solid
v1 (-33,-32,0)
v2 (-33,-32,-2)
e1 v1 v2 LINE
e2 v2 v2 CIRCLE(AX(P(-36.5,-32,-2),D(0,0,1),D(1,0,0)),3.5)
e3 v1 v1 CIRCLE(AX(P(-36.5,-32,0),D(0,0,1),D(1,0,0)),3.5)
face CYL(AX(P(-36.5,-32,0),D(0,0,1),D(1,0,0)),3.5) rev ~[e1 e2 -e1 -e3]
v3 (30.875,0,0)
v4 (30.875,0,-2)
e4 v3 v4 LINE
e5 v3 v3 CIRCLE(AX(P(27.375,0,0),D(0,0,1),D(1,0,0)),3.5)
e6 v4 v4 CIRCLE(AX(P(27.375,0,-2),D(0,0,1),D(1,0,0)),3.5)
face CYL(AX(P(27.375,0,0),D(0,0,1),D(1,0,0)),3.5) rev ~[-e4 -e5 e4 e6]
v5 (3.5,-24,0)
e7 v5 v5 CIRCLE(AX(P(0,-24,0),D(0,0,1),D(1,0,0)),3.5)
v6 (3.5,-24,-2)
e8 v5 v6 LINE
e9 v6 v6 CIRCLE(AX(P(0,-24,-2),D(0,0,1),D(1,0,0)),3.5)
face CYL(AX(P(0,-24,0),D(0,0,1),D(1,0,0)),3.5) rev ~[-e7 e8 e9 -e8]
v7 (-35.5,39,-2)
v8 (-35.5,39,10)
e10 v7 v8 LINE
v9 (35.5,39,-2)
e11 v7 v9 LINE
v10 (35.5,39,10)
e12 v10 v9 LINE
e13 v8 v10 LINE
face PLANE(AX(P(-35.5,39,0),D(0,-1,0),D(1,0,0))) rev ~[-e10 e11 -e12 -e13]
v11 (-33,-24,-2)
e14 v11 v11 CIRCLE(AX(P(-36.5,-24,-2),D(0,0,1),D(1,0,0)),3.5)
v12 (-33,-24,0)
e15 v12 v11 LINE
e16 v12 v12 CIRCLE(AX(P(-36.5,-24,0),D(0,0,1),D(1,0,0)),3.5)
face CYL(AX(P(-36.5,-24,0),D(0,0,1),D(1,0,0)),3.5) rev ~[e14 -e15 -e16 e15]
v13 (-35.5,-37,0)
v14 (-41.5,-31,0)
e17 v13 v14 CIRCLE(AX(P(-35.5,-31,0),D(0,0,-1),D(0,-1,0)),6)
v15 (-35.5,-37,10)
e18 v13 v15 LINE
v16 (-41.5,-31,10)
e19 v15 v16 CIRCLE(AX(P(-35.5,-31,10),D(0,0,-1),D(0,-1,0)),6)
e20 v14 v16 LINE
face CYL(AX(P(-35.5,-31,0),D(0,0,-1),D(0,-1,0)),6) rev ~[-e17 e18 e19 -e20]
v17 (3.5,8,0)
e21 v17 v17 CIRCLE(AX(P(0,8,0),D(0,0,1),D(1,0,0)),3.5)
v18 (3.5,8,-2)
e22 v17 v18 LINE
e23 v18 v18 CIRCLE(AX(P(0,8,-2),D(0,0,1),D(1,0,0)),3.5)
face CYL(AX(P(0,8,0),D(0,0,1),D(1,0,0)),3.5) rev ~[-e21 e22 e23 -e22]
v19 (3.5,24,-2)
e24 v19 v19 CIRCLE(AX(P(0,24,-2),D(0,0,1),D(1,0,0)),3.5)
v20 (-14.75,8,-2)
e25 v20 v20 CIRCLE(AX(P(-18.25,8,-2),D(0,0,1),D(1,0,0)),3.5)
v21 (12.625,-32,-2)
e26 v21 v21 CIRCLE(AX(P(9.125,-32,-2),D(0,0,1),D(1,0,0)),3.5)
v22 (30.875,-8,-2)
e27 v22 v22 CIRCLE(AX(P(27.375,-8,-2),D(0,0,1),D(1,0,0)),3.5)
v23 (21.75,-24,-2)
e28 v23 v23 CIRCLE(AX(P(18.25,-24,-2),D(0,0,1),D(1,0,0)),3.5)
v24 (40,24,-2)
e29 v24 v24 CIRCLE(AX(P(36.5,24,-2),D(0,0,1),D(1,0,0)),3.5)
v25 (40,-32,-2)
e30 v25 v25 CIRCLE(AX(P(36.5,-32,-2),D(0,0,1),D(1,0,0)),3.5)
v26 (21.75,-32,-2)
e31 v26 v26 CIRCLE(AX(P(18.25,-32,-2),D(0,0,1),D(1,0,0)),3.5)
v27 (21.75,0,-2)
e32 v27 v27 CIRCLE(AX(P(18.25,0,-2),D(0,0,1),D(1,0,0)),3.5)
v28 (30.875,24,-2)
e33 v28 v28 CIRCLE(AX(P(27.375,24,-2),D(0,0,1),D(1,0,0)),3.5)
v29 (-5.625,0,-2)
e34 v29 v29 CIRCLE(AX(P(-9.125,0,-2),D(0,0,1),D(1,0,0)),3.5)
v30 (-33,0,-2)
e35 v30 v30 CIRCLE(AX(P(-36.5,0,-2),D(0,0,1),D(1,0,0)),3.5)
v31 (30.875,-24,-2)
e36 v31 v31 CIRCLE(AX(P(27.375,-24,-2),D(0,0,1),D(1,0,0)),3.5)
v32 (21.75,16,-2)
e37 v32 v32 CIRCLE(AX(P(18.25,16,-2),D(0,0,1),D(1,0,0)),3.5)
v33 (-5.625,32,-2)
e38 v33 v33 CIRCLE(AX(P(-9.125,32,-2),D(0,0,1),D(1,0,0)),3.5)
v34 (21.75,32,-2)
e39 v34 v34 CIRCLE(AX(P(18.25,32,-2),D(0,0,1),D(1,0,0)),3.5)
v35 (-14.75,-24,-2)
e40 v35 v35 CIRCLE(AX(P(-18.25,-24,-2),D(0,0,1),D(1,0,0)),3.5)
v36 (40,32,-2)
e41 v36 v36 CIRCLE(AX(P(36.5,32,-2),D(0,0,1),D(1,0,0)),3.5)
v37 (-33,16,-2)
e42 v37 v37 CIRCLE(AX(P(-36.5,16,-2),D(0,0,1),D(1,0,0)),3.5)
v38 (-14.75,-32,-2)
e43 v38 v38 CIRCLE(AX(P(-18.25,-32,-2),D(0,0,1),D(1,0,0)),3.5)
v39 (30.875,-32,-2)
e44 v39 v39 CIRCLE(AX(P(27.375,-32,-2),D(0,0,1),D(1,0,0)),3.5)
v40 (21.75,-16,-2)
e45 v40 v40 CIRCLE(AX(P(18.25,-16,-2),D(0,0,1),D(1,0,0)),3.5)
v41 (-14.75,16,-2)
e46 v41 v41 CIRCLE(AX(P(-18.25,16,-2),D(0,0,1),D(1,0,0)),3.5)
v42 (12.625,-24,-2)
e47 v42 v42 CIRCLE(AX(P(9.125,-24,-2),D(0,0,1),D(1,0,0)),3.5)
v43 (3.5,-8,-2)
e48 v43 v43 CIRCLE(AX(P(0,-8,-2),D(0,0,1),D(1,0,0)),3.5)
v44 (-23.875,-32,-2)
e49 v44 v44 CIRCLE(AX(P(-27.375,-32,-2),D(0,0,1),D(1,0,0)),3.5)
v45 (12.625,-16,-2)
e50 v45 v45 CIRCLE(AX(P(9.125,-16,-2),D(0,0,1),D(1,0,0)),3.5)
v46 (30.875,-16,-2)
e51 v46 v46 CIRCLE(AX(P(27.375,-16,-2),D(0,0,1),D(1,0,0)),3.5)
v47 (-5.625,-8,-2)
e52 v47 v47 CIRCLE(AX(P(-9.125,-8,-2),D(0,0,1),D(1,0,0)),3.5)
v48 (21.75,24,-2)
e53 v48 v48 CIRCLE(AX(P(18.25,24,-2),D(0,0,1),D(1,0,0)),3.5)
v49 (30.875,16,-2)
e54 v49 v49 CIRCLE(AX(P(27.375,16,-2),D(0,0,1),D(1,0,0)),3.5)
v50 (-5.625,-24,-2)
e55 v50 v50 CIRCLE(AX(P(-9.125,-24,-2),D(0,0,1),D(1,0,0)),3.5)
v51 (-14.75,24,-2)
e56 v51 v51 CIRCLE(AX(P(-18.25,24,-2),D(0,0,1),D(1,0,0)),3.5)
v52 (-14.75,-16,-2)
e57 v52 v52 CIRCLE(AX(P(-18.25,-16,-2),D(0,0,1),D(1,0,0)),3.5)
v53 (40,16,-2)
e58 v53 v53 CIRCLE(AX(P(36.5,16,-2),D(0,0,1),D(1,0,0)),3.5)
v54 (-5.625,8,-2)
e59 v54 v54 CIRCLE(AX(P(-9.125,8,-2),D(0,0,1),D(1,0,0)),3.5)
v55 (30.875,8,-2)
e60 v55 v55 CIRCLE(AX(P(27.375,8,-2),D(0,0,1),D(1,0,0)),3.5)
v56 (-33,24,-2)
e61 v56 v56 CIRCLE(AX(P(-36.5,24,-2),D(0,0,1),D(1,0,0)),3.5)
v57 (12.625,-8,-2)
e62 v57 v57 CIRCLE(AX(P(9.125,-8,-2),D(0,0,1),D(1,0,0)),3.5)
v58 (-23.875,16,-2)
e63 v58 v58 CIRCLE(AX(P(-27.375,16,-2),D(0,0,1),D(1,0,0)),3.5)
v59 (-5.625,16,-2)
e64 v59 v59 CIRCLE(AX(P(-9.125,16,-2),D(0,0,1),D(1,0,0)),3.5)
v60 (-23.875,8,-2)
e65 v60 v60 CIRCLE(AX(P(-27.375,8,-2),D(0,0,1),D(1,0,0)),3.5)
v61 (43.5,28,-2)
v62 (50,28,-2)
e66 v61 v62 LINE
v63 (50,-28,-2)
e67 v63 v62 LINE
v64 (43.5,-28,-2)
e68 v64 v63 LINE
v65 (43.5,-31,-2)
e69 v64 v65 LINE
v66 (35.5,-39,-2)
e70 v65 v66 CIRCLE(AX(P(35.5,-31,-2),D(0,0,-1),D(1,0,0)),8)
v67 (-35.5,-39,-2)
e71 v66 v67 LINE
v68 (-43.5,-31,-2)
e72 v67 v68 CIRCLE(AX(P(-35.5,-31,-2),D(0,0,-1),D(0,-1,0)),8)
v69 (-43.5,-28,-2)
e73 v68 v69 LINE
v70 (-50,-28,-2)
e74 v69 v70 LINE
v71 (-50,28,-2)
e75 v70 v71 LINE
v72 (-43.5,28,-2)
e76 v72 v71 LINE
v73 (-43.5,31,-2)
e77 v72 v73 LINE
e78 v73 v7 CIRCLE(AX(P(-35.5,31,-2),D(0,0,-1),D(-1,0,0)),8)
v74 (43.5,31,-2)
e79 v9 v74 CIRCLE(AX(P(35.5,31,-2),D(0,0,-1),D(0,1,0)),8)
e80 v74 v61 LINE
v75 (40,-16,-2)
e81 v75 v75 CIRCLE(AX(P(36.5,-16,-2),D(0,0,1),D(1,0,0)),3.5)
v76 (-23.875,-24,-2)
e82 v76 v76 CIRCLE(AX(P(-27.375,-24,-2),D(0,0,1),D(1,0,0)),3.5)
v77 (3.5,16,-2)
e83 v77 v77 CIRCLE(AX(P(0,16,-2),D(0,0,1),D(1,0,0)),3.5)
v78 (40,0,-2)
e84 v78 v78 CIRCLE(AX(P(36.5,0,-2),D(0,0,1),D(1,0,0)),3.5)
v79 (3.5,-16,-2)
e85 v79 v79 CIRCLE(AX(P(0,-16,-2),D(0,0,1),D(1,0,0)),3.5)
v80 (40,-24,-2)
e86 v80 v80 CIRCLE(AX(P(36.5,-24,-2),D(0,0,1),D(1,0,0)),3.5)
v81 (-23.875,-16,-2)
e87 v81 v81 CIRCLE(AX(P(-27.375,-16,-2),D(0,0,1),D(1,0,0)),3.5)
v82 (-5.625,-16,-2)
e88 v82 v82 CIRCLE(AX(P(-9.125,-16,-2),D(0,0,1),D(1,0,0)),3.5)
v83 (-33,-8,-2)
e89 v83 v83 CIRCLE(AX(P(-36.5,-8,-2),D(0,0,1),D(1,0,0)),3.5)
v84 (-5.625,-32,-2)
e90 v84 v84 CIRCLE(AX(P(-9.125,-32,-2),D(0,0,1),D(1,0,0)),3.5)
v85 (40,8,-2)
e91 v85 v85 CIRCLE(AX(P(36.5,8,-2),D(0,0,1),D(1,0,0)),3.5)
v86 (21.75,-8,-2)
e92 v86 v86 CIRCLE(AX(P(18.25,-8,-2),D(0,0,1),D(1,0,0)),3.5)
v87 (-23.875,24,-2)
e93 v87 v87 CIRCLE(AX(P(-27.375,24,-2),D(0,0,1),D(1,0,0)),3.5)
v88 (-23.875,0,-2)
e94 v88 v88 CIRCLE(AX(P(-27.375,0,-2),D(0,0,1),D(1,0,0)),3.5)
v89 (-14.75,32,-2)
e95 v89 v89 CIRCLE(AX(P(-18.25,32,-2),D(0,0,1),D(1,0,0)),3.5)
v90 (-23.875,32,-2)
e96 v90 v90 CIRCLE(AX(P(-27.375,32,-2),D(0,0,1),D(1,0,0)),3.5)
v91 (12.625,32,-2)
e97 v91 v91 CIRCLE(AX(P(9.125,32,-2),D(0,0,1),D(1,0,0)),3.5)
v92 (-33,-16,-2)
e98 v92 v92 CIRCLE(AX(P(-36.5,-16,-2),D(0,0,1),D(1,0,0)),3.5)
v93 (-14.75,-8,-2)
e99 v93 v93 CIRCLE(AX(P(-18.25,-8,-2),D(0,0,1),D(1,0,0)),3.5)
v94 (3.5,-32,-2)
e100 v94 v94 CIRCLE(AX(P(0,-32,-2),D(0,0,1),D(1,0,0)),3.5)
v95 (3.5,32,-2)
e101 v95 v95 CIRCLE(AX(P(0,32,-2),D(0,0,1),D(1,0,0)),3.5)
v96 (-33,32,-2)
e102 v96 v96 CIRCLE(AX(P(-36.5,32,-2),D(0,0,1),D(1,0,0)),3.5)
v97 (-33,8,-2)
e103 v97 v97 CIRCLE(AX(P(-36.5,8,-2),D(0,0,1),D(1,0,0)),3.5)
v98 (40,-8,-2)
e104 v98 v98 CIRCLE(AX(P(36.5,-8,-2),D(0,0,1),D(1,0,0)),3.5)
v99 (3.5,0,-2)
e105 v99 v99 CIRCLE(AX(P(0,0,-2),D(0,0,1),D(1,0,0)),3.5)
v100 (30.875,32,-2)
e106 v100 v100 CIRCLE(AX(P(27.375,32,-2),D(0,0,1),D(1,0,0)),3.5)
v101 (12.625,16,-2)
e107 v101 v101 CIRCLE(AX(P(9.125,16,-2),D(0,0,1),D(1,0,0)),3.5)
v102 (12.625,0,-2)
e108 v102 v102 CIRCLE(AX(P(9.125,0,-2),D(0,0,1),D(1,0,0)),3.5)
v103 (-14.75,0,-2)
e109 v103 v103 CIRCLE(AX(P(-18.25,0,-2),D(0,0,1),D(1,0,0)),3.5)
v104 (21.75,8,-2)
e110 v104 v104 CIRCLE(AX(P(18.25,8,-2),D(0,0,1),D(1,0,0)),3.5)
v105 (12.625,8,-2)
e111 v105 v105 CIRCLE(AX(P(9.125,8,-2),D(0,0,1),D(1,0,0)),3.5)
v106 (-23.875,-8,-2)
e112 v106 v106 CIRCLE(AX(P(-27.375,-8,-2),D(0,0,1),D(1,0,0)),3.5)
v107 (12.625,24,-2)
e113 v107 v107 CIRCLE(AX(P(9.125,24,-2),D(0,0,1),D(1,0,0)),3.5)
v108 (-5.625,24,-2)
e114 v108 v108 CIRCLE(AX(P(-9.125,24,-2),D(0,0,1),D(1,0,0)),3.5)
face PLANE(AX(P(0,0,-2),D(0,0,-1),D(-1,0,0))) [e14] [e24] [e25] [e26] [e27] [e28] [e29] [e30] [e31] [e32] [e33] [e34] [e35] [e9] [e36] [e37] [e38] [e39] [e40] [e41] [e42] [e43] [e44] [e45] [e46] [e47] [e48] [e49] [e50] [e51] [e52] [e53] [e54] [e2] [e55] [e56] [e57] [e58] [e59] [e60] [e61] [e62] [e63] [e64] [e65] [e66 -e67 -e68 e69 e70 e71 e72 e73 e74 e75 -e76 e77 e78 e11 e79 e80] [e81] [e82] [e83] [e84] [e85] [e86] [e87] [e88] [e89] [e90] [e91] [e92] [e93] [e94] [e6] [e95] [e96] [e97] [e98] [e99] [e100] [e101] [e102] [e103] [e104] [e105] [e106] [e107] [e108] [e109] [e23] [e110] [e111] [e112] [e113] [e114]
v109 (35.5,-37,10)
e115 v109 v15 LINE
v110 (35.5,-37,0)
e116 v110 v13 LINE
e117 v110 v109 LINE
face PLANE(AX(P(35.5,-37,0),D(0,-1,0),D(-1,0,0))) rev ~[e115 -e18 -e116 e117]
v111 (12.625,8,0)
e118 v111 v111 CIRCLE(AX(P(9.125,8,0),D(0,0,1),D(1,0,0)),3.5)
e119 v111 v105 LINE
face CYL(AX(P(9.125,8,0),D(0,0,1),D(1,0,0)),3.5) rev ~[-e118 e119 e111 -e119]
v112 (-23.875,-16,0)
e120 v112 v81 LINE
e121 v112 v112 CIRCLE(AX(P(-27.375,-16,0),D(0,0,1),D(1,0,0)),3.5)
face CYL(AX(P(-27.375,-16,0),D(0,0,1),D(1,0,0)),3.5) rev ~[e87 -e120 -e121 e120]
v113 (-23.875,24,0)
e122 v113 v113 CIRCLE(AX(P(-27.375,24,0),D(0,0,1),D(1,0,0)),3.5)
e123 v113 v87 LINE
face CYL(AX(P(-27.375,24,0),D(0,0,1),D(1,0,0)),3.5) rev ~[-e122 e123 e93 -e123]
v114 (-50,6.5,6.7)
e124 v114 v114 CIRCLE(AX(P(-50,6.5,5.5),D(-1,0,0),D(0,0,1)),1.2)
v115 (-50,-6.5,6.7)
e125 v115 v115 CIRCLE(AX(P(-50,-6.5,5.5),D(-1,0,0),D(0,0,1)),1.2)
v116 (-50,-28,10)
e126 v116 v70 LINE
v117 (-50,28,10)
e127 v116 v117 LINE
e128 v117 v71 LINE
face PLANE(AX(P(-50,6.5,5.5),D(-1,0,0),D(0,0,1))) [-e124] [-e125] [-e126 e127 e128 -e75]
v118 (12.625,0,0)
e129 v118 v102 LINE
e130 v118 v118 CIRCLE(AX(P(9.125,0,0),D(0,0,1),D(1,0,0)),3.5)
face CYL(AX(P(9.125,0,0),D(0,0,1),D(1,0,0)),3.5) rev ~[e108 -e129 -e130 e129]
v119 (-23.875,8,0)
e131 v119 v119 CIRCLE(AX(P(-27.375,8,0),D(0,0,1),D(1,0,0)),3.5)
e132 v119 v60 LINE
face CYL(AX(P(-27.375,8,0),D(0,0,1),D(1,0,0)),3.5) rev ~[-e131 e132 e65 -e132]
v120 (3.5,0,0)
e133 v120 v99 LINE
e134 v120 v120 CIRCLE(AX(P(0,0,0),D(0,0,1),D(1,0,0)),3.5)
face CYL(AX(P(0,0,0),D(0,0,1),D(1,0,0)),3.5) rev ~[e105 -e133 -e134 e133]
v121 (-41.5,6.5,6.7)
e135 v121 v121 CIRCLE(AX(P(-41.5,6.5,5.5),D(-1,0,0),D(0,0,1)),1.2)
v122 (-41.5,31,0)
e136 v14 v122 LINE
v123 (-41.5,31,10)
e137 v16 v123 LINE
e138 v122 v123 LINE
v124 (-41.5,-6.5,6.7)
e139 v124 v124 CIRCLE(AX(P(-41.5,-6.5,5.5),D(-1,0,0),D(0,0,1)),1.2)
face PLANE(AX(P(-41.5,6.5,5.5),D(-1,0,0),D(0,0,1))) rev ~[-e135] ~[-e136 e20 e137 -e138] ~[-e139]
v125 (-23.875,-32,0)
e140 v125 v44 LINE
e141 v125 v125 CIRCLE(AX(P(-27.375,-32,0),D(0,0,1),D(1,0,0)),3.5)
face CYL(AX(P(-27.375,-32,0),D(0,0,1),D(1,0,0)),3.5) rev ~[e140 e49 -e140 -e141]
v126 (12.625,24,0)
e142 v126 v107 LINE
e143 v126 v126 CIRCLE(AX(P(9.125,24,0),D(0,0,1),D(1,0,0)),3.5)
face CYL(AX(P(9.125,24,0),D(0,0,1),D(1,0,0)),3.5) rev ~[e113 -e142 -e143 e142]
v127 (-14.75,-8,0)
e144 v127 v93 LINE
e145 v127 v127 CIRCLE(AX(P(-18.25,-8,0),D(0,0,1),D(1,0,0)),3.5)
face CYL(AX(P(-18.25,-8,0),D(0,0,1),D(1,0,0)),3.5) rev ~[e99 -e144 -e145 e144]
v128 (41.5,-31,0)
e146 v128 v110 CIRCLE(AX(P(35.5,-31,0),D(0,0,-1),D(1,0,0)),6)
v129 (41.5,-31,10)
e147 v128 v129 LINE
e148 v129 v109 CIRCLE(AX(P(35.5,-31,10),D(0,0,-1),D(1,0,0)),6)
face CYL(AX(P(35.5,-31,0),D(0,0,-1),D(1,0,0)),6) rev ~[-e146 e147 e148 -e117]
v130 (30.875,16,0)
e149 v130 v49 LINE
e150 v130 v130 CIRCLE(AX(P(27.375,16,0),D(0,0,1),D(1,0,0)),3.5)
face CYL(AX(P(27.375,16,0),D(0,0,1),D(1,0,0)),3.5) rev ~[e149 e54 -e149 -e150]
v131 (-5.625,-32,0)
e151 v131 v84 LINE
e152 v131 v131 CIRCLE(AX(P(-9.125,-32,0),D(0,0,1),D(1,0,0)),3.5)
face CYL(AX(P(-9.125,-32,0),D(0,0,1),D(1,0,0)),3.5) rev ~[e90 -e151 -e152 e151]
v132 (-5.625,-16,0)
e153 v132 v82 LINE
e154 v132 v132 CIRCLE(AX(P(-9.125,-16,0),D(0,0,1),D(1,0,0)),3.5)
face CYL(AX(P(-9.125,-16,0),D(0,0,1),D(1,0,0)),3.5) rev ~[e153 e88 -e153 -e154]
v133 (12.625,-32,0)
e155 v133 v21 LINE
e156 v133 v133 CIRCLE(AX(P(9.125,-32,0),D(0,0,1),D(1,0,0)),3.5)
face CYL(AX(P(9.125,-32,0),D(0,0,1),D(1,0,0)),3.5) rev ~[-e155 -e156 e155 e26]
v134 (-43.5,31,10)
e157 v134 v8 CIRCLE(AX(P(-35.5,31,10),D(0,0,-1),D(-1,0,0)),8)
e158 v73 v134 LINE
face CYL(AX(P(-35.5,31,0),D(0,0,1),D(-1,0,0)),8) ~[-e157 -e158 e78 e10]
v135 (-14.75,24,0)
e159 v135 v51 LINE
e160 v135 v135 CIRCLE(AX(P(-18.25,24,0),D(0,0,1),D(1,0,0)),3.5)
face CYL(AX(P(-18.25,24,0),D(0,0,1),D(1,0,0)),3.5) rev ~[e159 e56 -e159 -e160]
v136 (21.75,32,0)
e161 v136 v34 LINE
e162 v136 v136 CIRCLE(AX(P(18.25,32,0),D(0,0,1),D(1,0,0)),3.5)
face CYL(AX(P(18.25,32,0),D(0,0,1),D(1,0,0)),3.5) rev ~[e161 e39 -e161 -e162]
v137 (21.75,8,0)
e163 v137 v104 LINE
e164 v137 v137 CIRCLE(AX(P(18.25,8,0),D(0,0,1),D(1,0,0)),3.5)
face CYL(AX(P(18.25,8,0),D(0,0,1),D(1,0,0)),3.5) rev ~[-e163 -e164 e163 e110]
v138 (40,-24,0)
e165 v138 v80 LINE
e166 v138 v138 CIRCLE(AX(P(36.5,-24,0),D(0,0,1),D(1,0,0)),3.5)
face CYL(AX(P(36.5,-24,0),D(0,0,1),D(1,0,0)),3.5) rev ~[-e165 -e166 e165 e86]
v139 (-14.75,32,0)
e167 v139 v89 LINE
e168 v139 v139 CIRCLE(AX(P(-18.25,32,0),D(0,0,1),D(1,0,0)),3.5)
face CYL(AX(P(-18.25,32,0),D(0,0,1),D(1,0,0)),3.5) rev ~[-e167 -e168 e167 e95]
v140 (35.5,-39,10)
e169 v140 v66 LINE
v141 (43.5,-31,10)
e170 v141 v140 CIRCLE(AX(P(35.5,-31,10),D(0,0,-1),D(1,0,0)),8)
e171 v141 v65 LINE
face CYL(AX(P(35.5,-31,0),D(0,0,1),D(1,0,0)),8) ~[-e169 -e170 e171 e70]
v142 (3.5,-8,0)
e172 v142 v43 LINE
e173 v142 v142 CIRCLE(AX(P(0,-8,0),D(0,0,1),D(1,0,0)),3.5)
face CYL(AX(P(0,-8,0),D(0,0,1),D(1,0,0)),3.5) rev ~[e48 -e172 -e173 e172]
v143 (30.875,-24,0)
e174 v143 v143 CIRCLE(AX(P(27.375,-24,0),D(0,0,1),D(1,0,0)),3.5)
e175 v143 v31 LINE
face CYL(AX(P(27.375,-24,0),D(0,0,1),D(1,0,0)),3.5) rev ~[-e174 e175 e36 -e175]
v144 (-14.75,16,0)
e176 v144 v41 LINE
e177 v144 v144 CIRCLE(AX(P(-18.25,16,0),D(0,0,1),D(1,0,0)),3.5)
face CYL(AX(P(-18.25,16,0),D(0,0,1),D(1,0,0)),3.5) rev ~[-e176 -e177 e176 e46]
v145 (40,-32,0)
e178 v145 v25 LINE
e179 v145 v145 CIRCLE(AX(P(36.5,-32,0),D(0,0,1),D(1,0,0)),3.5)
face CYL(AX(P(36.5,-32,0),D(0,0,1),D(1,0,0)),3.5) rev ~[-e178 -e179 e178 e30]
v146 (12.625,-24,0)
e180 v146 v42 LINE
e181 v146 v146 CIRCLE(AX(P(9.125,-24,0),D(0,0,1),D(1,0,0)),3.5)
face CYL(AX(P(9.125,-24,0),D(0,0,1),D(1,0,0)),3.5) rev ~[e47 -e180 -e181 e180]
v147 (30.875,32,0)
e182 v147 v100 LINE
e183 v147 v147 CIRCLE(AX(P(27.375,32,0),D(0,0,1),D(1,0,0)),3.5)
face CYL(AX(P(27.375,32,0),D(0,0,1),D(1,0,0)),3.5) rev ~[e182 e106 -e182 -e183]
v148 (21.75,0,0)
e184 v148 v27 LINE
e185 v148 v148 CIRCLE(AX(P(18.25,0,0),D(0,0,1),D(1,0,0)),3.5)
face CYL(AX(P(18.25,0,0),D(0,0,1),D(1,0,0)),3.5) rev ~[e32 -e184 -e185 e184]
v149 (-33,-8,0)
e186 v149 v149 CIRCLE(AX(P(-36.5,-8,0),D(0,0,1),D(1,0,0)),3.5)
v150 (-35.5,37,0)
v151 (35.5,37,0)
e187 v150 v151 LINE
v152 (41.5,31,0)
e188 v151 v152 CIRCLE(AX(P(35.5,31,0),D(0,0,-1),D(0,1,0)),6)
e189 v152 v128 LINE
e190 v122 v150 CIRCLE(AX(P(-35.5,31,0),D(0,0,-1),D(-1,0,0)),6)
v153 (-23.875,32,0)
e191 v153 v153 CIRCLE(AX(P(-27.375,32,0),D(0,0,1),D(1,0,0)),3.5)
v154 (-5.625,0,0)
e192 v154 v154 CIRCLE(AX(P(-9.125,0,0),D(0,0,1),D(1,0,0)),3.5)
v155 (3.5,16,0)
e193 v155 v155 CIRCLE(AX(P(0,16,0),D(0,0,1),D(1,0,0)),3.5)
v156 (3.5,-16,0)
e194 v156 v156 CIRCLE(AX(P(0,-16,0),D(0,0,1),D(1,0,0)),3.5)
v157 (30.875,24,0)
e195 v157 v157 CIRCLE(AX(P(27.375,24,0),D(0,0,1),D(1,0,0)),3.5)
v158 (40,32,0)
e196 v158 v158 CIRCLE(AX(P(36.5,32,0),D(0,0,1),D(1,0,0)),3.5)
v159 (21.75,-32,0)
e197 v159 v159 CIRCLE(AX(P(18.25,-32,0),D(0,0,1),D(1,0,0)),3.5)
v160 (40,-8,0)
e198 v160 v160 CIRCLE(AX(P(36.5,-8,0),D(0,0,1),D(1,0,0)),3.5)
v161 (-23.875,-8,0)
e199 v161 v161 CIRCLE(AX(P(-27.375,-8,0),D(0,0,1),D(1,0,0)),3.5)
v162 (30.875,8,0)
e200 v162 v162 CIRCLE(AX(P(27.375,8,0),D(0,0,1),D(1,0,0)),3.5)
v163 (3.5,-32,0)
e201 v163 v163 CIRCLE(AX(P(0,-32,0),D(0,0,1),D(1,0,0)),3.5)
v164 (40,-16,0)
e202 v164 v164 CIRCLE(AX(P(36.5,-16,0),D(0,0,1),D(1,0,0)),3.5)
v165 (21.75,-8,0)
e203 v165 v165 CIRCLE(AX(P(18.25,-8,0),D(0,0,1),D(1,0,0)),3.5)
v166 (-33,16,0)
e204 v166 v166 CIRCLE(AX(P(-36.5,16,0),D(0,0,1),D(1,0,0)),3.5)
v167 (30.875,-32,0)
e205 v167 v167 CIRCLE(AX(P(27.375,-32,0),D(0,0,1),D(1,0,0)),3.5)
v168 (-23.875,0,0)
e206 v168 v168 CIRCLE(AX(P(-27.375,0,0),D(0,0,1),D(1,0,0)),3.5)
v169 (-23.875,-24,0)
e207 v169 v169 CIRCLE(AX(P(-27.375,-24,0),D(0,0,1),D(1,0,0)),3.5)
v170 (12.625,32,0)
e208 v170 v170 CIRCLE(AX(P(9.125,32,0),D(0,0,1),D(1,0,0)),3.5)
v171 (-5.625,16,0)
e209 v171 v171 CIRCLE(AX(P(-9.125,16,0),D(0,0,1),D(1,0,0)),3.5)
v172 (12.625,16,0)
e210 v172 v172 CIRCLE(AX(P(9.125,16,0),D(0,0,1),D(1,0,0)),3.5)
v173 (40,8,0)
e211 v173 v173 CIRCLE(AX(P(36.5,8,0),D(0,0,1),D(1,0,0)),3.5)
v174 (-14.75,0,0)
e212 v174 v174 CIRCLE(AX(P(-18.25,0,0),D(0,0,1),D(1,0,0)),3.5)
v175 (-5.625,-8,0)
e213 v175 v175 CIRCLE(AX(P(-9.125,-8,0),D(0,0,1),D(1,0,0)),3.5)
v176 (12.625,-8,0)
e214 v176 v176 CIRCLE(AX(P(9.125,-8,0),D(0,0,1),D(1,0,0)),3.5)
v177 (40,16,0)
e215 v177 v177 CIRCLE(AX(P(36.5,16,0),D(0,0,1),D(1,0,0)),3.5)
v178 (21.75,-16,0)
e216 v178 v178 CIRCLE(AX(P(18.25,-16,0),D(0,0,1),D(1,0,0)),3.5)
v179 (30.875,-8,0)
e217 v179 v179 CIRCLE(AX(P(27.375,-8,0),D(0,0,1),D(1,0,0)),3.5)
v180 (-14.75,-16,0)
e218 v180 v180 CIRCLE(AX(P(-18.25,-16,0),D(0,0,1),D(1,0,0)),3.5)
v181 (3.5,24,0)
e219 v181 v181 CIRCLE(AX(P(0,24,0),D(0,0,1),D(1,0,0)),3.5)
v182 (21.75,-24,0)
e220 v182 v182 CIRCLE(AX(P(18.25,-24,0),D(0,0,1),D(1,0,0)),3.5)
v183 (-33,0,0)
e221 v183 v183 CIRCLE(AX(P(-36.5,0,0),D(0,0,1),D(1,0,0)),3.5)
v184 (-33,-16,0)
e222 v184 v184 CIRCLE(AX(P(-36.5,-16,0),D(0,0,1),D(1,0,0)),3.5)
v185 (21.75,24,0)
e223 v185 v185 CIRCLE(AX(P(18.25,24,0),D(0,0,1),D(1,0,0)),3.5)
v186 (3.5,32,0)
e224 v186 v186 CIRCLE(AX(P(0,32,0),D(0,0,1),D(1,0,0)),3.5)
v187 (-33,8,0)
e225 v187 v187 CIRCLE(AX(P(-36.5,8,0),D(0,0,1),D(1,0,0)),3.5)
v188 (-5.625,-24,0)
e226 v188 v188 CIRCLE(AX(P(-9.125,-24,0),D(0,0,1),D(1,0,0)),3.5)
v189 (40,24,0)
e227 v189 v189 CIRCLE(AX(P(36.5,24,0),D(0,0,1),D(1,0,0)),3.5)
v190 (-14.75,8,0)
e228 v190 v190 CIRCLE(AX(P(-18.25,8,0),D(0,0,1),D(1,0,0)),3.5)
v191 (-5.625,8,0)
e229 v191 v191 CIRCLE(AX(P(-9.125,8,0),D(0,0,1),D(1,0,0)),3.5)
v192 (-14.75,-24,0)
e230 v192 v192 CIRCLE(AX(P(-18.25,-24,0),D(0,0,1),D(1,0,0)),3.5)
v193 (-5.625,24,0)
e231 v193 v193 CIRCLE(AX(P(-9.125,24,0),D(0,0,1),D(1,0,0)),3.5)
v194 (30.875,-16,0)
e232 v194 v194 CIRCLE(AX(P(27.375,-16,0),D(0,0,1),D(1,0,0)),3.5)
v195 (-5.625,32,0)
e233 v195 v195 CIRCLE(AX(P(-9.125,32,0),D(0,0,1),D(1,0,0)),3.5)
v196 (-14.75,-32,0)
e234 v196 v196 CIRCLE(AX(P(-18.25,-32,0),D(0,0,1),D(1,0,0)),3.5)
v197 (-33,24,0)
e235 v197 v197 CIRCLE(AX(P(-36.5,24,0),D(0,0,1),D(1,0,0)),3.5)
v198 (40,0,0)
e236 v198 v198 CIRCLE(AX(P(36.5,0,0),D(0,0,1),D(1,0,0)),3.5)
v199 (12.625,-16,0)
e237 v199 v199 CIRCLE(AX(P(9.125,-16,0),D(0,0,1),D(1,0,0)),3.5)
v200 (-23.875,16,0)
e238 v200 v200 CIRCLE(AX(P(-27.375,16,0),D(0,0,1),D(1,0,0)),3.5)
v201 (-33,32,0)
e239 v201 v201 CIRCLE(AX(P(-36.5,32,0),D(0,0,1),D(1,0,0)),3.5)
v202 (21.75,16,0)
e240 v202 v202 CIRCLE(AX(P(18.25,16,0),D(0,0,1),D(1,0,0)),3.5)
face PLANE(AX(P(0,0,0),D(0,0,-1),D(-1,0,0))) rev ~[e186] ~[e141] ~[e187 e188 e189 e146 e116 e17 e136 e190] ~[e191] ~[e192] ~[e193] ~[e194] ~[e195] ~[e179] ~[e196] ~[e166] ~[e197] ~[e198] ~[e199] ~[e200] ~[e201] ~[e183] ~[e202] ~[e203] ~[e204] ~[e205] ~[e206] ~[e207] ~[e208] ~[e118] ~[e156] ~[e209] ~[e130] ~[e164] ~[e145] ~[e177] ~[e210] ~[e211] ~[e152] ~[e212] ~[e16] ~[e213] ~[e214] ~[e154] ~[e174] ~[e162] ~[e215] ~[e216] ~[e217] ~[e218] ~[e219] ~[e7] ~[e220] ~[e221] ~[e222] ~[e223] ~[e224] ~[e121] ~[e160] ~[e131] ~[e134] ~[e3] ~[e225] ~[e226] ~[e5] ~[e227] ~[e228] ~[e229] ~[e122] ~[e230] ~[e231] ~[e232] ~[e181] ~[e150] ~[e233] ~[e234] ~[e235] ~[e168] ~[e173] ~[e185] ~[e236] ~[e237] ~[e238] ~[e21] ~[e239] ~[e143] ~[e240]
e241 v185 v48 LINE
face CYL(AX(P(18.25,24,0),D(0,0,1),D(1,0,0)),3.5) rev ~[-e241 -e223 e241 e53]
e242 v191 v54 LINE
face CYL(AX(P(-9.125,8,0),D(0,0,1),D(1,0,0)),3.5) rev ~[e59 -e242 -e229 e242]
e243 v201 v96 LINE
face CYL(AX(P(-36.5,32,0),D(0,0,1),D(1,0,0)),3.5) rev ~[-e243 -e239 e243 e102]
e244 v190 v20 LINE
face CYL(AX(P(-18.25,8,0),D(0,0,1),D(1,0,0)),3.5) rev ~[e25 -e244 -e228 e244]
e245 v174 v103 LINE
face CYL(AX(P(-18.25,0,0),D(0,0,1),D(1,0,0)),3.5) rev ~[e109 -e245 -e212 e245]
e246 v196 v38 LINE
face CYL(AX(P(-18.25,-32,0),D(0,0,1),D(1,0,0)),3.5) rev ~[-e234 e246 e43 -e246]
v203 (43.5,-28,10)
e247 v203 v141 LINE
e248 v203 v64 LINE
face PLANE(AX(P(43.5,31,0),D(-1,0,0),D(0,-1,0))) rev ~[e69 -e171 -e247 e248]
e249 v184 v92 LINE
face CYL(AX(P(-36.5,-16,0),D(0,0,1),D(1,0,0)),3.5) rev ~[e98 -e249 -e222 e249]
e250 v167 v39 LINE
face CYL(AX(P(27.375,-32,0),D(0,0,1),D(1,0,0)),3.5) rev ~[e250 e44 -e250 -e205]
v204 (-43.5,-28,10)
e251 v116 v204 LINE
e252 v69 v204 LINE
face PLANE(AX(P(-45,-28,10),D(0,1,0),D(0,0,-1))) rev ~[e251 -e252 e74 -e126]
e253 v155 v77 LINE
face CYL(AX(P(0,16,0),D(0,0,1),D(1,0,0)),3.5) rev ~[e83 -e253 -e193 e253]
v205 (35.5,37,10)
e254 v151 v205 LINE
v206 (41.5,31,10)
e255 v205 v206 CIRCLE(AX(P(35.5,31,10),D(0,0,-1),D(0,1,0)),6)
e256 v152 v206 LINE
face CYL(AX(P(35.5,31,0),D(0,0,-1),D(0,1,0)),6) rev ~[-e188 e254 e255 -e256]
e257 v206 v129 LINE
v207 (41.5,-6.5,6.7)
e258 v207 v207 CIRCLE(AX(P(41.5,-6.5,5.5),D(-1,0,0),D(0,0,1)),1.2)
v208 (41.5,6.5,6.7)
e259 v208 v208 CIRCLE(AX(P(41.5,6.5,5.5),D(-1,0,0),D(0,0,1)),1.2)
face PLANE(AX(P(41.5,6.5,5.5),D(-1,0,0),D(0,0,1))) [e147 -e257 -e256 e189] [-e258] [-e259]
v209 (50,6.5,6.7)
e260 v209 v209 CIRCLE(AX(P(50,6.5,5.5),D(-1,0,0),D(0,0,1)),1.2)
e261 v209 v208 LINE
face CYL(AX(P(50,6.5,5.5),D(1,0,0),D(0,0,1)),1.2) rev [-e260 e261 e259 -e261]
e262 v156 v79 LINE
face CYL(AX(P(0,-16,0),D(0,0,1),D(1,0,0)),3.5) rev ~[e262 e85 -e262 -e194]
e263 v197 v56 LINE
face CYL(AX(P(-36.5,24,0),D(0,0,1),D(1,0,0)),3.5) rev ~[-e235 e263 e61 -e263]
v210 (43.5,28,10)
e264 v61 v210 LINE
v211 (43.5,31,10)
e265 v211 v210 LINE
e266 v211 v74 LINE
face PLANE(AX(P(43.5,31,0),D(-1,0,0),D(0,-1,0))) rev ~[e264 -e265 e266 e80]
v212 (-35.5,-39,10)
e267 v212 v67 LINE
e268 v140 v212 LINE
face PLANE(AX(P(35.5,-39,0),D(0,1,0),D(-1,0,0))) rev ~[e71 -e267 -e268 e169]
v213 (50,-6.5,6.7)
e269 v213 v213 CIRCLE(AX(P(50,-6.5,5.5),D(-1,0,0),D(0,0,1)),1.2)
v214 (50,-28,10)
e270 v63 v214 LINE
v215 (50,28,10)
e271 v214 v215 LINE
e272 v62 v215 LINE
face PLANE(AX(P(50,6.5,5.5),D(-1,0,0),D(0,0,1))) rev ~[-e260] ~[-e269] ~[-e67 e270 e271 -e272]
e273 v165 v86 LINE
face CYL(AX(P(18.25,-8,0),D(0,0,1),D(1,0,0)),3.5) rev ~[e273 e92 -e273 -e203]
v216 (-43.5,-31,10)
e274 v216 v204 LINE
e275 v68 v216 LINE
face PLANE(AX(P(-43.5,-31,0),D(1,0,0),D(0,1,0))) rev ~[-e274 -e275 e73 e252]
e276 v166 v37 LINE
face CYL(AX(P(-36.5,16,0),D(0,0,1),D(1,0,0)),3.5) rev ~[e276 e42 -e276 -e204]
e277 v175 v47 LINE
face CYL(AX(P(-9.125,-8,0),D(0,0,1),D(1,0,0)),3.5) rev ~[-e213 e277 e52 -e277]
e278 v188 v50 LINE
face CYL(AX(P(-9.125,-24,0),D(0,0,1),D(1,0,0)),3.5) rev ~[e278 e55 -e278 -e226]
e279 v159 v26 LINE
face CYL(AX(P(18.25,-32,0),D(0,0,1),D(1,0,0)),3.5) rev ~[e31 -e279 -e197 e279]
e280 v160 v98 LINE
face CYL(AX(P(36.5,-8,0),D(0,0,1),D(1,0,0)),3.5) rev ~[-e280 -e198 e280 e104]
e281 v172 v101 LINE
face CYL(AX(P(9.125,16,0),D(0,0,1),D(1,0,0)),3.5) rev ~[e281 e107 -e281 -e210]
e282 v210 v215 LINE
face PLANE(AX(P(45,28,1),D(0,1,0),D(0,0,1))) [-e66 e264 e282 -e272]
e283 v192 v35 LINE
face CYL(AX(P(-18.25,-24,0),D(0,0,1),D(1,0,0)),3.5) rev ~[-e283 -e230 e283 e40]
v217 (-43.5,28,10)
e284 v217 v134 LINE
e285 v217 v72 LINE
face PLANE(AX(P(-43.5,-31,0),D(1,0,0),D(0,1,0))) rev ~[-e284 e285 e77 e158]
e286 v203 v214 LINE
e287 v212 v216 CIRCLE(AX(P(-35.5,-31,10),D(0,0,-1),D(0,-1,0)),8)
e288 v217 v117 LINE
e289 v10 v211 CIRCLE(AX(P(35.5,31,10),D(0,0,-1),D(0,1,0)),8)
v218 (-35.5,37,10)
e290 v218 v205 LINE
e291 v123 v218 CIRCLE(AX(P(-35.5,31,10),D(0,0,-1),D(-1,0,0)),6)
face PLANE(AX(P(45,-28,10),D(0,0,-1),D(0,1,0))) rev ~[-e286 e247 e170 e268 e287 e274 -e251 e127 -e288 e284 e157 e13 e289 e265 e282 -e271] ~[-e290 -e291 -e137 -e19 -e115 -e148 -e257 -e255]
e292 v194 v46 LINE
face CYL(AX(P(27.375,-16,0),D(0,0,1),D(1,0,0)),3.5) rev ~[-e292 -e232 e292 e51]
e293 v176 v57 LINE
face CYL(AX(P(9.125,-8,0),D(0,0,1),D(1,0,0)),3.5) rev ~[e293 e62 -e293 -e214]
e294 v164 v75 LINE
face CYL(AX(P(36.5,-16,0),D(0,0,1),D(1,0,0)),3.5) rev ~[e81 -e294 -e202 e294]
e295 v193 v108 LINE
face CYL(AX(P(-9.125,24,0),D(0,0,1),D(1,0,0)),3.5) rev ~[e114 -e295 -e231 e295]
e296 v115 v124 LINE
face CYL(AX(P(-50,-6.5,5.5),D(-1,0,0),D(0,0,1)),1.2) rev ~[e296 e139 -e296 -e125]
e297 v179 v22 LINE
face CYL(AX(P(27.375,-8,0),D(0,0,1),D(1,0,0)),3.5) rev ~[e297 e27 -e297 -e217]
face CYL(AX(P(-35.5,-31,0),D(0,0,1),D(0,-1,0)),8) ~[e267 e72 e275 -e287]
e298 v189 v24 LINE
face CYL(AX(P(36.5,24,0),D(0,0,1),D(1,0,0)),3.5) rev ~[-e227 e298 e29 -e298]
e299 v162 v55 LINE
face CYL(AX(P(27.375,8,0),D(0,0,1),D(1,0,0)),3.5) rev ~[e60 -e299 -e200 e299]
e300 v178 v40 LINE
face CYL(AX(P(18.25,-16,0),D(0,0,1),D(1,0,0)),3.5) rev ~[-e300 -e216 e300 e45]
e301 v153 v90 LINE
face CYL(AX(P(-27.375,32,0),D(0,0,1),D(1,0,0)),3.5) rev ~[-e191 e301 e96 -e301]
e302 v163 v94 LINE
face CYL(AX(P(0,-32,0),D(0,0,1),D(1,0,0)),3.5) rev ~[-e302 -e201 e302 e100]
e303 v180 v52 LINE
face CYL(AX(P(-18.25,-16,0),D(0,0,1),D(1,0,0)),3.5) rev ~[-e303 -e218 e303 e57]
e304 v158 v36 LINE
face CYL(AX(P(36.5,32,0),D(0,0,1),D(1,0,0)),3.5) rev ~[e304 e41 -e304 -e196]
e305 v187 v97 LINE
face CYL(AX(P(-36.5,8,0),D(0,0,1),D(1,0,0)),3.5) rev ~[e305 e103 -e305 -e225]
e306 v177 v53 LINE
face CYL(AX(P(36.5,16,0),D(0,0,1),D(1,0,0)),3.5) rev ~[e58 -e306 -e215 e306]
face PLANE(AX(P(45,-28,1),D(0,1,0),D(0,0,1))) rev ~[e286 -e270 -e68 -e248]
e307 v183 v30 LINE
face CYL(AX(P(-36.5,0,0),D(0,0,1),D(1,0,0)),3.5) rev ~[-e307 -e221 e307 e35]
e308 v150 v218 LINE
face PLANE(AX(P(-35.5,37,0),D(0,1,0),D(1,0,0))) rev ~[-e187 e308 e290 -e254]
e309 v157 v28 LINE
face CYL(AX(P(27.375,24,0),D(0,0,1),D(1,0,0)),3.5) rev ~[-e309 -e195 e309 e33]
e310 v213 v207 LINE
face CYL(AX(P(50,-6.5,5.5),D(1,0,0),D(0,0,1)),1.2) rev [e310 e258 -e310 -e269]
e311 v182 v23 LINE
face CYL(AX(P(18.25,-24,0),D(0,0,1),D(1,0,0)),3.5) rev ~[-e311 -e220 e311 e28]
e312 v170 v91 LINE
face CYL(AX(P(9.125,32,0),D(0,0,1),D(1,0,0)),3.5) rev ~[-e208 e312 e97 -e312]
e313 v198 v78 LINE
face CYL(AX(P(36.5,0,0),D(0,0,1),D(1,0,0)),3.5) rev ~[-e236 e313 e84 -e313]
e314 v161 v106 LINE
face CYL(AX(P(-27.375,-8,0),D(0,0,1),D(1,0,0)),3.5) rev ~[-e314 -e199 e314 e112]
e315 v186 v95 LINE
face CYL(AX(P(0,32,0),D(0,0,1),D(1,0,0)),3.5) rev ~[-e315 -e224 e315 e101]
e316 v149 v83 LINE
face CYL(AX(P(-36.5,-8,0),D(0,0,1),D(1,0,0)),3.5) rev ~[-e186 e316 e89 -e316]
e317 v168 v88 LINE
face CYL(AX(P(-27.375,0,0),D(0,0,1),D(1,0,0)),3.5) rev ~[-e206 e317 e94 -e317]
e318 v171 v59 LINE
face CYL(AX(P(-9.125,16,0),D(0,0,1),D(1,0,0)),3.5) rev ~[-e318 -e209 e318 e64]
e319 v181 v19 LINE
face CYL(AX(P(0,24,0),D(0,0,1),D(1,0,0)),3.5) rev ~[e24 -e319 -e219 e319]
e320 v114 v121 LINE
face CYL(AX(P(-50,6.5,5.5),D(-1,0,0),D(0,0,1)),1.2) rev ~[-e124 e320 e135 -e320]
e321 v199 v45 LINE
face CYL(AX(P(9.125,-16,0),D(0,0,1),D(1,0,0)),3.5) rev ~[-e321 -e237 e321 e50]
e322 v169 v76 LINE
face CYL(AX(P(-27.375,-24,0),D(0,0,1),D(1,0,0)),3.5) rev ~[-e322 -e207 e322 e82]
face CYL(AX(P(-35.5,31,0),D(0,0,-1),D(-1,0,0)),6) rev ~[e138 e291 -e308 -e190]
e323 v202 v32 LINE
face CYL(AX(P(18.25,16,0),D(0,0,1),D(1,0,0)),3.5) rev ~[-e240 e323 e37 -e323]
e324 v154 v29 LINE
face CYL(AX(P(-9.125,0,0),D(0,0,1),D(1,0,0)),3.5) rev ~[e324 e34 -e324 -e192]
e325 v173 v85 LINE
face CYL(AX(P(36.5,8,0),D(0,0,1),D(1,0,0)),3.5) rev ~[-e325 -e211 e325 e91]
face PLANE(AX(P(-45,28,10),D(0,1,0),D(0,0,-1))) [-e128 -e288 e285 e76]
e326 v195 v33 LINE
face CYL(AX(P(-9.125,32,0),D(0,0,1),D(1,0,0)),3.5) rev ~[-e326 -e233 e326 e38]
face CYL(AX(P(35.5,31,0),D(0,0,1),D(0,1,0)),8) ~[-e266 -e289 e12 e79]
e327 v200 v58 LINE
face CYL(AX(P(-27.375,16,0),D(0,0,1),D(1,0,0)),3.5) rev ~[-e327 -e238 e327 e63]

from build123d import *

# Parameters (mm, degrees)
EXTRUDE_THIN1_DEPTH       = 10
BOSS_EXTRUDE1_DEPTH       = 2
SKETCH3_W                 = 3
SKETCH3_H                 = 56
BOSS_EXTRUDE2_DEPTH       = 6.5
SKETCH4_W                 = 9
SKETCH4_H                 = 56
BOSS_EXTRUDE3_DEPTH       = 5
F_3_0MM_DOWEL_HOLE1_D     = 3
F_3_0MM_DOWEL_HOLE1_DEPTH = 150
SKETCH10_R                = 3.5
CUT_EXTRUDE1_DEPTH        = 65.195015383
CUT_EXTRUDE1_DEPTH_BACK   = 65.195015383
BOSS_EXTRUDE4_REACH       = 105.179
SKETCH12_W                = 9
SKETCH12_H                = 56
SKETCH12_R                = 1.5
BOSS_EXTRUDE5_REACH       = 105.179
SKETCH13_W                = 9
SKETCH13_H                = 56
SKETCH13_R                = 1.5
SKETCH14_R                = 1.5
CUT_EXTRUDE2_DEPTH        = 104.179455319
CUT_EXTRUDE2_DEPTH_BACK   = 104.179455319
SKETCH15_R                = 1.5
SKETCH15_R_2              = 1.2
BOSS_EXTRUDE6_DEPTH       = 8.5
BOSS_EXTRUDE7_START       = -100
SKETCH15_2_R              = 1.5
SKETCH15_2_R_2            = 1.2
BOSS_EXTRUDE7_DEPTH       = 8.5


with BuildPart() as part:
    # Sketch1 → Extrude-Thin1 (new body)
    with BuildSketch(Plane.XY):
        with BuildLine():
            Line((-35.5, 39), (35.5, 39))
            ThreePointArc((35.5, 39), (41.156854249, 36.656854249), (43.5, 31))
            Line((43.5, 31), (43.5, -31))
            ThreePointArc((43.5, -31), (41.156854249, -36.656854249), (35.5, -39))
            Line((35.5, -39), (-35.5, -39))
            ThreePointArc((-35.5, -39), (-41.156854249, -36.656854249), (-43.5, -31))
            Line((-43.5, -31), (-43.5, 31))
            ThreePointArc((-43.5, 31), (-41.156854249, 36.656854249), (-35.5, 39))
        make_face()
        with BuildLine():
            Line((-35.5, 37), (35.5, 37))
            ThreePointArc((35.5, 37), (39.742640687, 35.242640687), (41.5, 31))
            Line((41.5, 31), (41.5, -31))
            ThreePointArc((41.5, -31), (39.742640687, -35.242640687), (35.5, -37))
            Line((35.5, -37), (-35.5, -37))
            ThreePointArc((-35.5, -37), (-39.742640687, -35.242640687), (-41.5, -31))
            Line((-41.5, -31), (-41.5, 31))
            ThreePointArc((-41.5, 31), (-39.742640687, 35.242640687), (-35.5, 37))
        make_face(mode=Mode.SUBTRACT)
    extrude(amount=EXTRUDE_THIN1_DEPTH)

    # Sketch2 → Boss-Extrude1 (add)
    with BuildSketch(Plane(origin=(0, 0, 0), x_dir=(-1, 0, 0), z_dir=(0, 0, -1))):
        with BuildLine():
            Line((35.5, 39), (-35.5, 39))
            ThreePointArc((-35.5, 39), (-41.156854249, 36.656854249), (-43.5, 31))
            Line((-43.5, 31), (-43.5, -31))
            ThreePointArc((-43.5, -31), (-41.156854249, -36.656854249), (-35.5, -39))
            Line((-35.5, -39), (35.5, -39))
            ThreePointArc((35.5, -39), (41.156854249, -36.656854249), (43.5, -31))
            Line((43.5, -31), (43.5, 31))
            ThreePointArc((43.5, 31), (41.156854249, 36.656854249), (35.5, 39))
        make_face()
        with BuildLine():
            ThreePointArc((-35.5, -37), (-39.742640687, -35.242640687), (-41.5, -31))
            Line((-41.5, -31), (-41.5, 31))
            ThreePointArc((-41.5, 31), (-39.742640687, 35.242640687), (-35.5, 37))
            Line((-35.5, 37), (35.5, 37))
            ThreePointArc((35.5, 37), (39.742640687, 35.242640687), (41.5, 31))
            Line((41.5, 31), (41.5, -31))
            ThreePointArc((41.5, -31), (39.742640687, -35.242640687), (35.5, -37))
            Line((35.5, -37), (-35.5, -37))
        make_face(mode=Mode.SUBTRACT)
        with BuildLine():
            Line((-41.5, -31), (-41.5, 31))
            ThreePointArc((-41.5, 31), (-39.742640687, 35.242640687), (-35.5, 37))
            Line((-35.5, 37), (35.5, 37))
            ThreePointArc((35.5, 37), (39.742640687, 35.242640687), (41.5, 31))
            Line((41.5, 31), (41.5, -31))
            ThreePointArc((41.5, -31), (39.742640687, -35.242640687), (35.5, -37))
            Line((35.5, -37), (-35.5, -37))
            ThreePointArc((-35.5, -37), (-39.742640687, -35.242640687), (-41.5, -31))
        make_face()
    extrude(amount=BOSS_EXTRUDE1_DEPTH)

    # Sketch3 → Boss-Extrude2 (add)
    with BuildSketch(Plane.ZY.offset(43.5)):
        with Locations((-0.5, 0)):
            Rectangle(SKETCH3_W, SKETCH3_H)
    boss_extrude2 = extrude(amount=BOSS_EXTRUDE2_DEPTH)

    # Sketch4 → Boss-Extrude3 (add)
    with BuildSketch(Plane.ZY.offset(50)):
        with Locations((5.5, 0)):
            Rectangle(SKETCH4_W, SKETCH4_H)
    boss_extrude3 = extrude(amount=-BOSS_EXTRUDE3_DEPTH)

    # Ø3.0mm Dowel Hole1
    with Locations(Plane(origin=(-50, -6.5, 5.5), x_dir=(0, 0, -1), z_dir=(-1, 0, 0))):
        with Locations((0, 0), (0, -13)):
            Hole(F_3_0MM_DOWEL_HOLE1_D / 2, depth=F_3_0MM_DOWEL_HOLE1_DEPTH)

    # Mirror2: Boss-Extrude2, Boss-Extrude3 across plane
    add(boss_extrude2.mirror(Plane(origin=(0, 0, 0), x_dir=(0, 0, 1), z_dir=(1, 0, 0))))
    add(boss_extrude3.mirror(Plane(origin=(0, 0, 0), x_dir=(0, 0, 1), z_dir=(1, 0, 0))))

    # Sketch10 → Cut-Extrude1 (cut, two sides)
    with BuildSketch(Plane.XY) as cut_extrude1_sk:
        with Locations((-27.375, 32)):
            Circle(SKETCH10_R)
        with Locations((-18.25, 32)):
            Circle(SKETCH10_R)
        with Locations((-9.125, 32)):
            Circle(SKETCH10_R)
        with Locations((0, 32)):
            Circle(SKETCH10_R)
        with Locations((-36.5, 32)):
            Circle(SKETCH10_R)
        with Locations((9.125, 32)):
            Circle(SKETCH10_R)
        with Locations((-27.375, 24)):
            Circle(SKETCH10_R)
        with Locations((-18.25, 24)):
            Circle(SKETCH10_R)
        with Locations((-9.125, 24)):
            Circle(SKETCH10_R)
        with Locations((0, 24)):
            Circle(SKETCH10_R)
        with Locations((9.125, 24)):
            Circle(SKETCH10_R)
        with Locations((-27.375, 16)):
            Circle(SKETCH10_R)
        with Locations((-18.25, 16)):
            Circle(SKETCH10_R)
        with Locations((-9.125, 16)):
            Circle(SKETCH10_R)
        with Locations((0, 16)):
            Circle(SKETCH10_R)
        with Locations((9.125, 16)):
            Circle(SKETCH10_R)
        with Locations((-27.375, 8)):
            Circle(SKETCH10_R)
        with Locations((-18.25, 8)):
            Circle(SKETCH10_R)
        with Locations((-9.125, 8)):
            Circle(SKETCH10_R)
        with Locations((0, 8)):
            Circle(SKETCH10_R)
        with Locations((9.125, 8)):
            Circle(SKETCH10_R)
        with Locations((-27.375, 0)):
            Circle(SKETCH10_R)
        with Locations((-18.25, 0)):
            Circle(SKETCH10_R)
        with Locations((-9.125, 0)):
            Circle(SKETCH10_R)
        Circle(SKETCH10_R)
        with Locations((9.125, 0)):
            Circle(SKETCH10_R)
        with Locations((-36.5, 24)):
            Circle(SKETCH10_R)
        with Locations((-36.5, 16)):
            Circle(SKETCH10_R)
        with Locations((-36.5, 8)):
            Circle(SKETCH10_R)
        with Locations((-36.5, 0)):
            Circle(SKETCH10_R)
        with Locations((-36.5, -8)):
            Circle(SKETCH10_R)
        with Locations((-27.375, -8)):
            Circle(SKETCH10_R)
        with Locations((-18.25, -8)):
            Circle(SKETCH10_R)
        with Locations((-9.125, -8)):
            Circle(SKETCH10_R)
        with Locations((0, -8)):
            Circle(SKETCH10_R)
        with Locations((9.125, -8)):
            Circle(SKETCH10_R)
        with Locations((-36.5, -16)):
            Circle(SKETCH10_R)
        with Locations((-27.375, -16)):
            Circle(SKETCH10_R)
        with Locations((-18.25, -16)):
            Circle(SKETCH10_R)
        with Locations((-9.125, -16)):
            Circle(SKETCH10_R)
        with Locations((0, -16)):
            Circle(SKETCH10_R)
        with Locations((9.125, -16)):
            Circle(SKETCH10_R)
        with Locations((-36.5, -24)):
            Circle(SKETCH10_R)
        with Locations((-27.375, -24)):
            Circle(SKETCH10_R)
        with Locations((-18.25, -24)):
            Circle(SKETCH10_R)
        with Locations((-9.125, -24)):
            Circle(SKETCH10_R)
        with Locations((0, -24)):
            Circle(SKETCH10_R)
        with Locations((9.125, -24)):
            Circle(SKETCH10_R)
        with Locations((-36.5, -32)):
            Circle(SKETCH10_R)
        with Locations((-27.375, -32)):
            Circle(SKETCH10_R)
        with Locations((-18.25, -32)):
            Circle(SKETCH10_R)
        with Locations((-9.125, -32)):
            Circle(SKETCH10_R)
        with Locations((0, -32)):
            Circle(SKETCH10_R)
        with Locations((9.125, -32)):
            Circle(SKETCH10_R)
        with Locations((18.25, 32)):
            Circle(SKETCH10_R)
        with Locations((27.375, 32)):
            Circle(SKETCH10_R)
        with Locations((36.5, 32)):
            Circle(SKETCH10_R)
        with Locations((18.25, 24)):
            Circle(SKETCH10_R)
        with Locations((27.375, 24)):
            Circle(SKETCH10_R)
        with Locations((36.5, 24)):
            Circle(SKETCH10_R)
        with Locations((18.25, 16)):
            Circle(SKETCH10_R)
        with Locations((27.375, 16)):
            Circle(SKETCH10_R)
        with Locations((36.5, 16)):
            Circle(SKETCH10_R)
        with Locations((18.25, 8)):
            Circle(SKETCH10_R)
        with Locations((27.375, 8)):
            Circle(SKETCH10_R)
        with Locations((36.5, 8)):
            Circle(SKETCH10_R)
        with Locations((18.25, 0)):
            Circle(SKETCH10_R)
        with Locations((27.375, 0)):
            Circle(SKETCH10_R)
        with Locations((36.5, 0)):
            Circle(SKETCH10_R)
        with Locations((18.25, -8)):
            Circle(SKETCH10_R)
        with Locations((27.375, -8)):
            Circle(SKETCH10_R)
        with Locations((36.5, -8)):
            Circle(SKETCH10_R)
        with Locations((18.25, -16)):
            Circle(SKETCH10_R)
        with Locations((27.375, -16)):
            Circle(SKETCH10_R)
        with Locations((36.5, -16)):
            Circle(SKETCH10_R)
        with Locations((18.25, -24)):
            Circle(SKETCH10_R)
        with Locations((27.375, -24)):
            Circle(SKETCH10_R)
        with Locations((36.5, -24)):
            Circle(SKETCH10_R)
        with Locations((18.25, -32)):
            Circle(SKETCH10_R)
        with Locations((27.375, -32)):
            Circle(SKETCH10_R)
        with Locations((36.5, -32)):
            Circle(SKETCH10_R)
    extrude(amount=CUT_EXTRUDE1_DEPTH, mode=Mode.SUBTRACT)
    extrude(cut_extrude1_sk.sketch, amount=-CUT_EXTRUDE1_DEPTH_BACK, mode=Mode.SUBTRACT)

    # Sketch12 → Boss-Extrude4 (add, up to next)
    with BuildSketch(Plane(origin=(-45, 0, 0), x_dir=(0, 0, -1), z_dir=(1, 0, 0)), mode=Mode.PRIVATE) as boss_extrude4_sk1:
        with Locations((-5.5, 0)):
            Rectangle(SKETCH12_W, SKETCH12_H)
        with Locations(Location((-5.5, 6.5, 0), (0, 0, 180))):
            Circle(SKETCH12_R, mode=Mode.SUBTRACT)
        with Locations(Location((-5.5, -6.5, 0), (0, 0, 180))):
            Circle(SKETCH12_R, mode=Mode.SUBTRACT)
    boss_extrude4_tool1 = extrude(boss_extrude4_sk1.sketch, amount=BOSS_EXTRUDE4_REACH, mode=Mode.PRIVATE) - part.part
    add(boss_extrude4_tool1.solids().sort_by_distance((-45, 0, 5.5))[0])

    # Sketch13 → Boss-Extrude5 (add, up to next)
    with BuildSketch(Plane.ZY.offset(-45), mode=Mode.PRIVATE) as boss_extrude5_sk1:
        with Locations((5.5, 0)):
            Rectangle(SKETCH13_W, SKETCH13_H)
        with Locations((5.5, 6.5)):
            Circle(SKETCH13_R, mode=Mode.SUBTRACT)
        with Locations((5.5, -6.5)):
            Circle(SKETCH13_R, mode=Mode.SUBTRACT)
    boss_extrude5_tool1 = extrude(boss_extrude5_sk1.sketch, amount=BOSS_EXTRUDE5_REACH, mode=Mode.PRIVATE) - part.part
    add(boss_extrude5_tool1.solids().sort_by_distance((45, 0, 5.5))[0])

    # Sketch14 → Cut-Extrude2 (cut, two sides)
    with BuildSketch(Plane.ZY.offset(-45)) as cut_extrude2_sk:
        with Locations((5.5, -6.5)):
            Circle(SKETCH14_R)
        with Locations((5.5, 6.5)):
            Circle(SKETCH14_R)
    extrude(amount=CUT_EXTRUDE2_DEPTH, mode=Mode.SUBTRACT)
    extrude(cut_extrude2_sk.sketch, amount=-CUT_EXTRUDE2_DEPTH_BACK, mode=Mode.SUBTRACT)

    # Sketch15 → Boss-Extrude6 (add)
    with BuildSketch(Plane.ZY.offset(50)):
        with Locations((5.5, 6.5)):
            Circle(SKETCH15_R)
        with Locations((5.5, 6.5)):
            Circle(SKETCH15_R_2, mode=Mode.SUBTRACT)
        with Locations((5.5, -6.5)):
            Circle(SKETCH15_R)
        with Locations((5.5, -6.5)):
            Circle(SKETCH15_R_2, mode=Mode.SUBTRACT)
    extrude(amount=-BOSS_EXTRUDE6_DEPTH)

    # Sketch15<2> → Boss-Extrude7 (add)
    with BuildSketch(Plane.ZY.offset(50).offset(BOSS_EXTRUDE7_START)):
        with Locations((5.5, 6.5)):
            Circle(SKETCH15_2_R)
        with Locations((5.5, 6.5)):
            Circle(SKETCH15_2_R_2, mode=Mode.SUBTRACT)
        with Locations((5.5, -6.5)):
            Circle(SKETCH15_2_R)
        with Locations((5.5, -6.5)):
            Circle(SKETCH15_2_R_2, mode=Mode.SUBTRACT)
    extrude(amount=BOSS_EXTRUDE7_DEPTH)


solid = part.part
